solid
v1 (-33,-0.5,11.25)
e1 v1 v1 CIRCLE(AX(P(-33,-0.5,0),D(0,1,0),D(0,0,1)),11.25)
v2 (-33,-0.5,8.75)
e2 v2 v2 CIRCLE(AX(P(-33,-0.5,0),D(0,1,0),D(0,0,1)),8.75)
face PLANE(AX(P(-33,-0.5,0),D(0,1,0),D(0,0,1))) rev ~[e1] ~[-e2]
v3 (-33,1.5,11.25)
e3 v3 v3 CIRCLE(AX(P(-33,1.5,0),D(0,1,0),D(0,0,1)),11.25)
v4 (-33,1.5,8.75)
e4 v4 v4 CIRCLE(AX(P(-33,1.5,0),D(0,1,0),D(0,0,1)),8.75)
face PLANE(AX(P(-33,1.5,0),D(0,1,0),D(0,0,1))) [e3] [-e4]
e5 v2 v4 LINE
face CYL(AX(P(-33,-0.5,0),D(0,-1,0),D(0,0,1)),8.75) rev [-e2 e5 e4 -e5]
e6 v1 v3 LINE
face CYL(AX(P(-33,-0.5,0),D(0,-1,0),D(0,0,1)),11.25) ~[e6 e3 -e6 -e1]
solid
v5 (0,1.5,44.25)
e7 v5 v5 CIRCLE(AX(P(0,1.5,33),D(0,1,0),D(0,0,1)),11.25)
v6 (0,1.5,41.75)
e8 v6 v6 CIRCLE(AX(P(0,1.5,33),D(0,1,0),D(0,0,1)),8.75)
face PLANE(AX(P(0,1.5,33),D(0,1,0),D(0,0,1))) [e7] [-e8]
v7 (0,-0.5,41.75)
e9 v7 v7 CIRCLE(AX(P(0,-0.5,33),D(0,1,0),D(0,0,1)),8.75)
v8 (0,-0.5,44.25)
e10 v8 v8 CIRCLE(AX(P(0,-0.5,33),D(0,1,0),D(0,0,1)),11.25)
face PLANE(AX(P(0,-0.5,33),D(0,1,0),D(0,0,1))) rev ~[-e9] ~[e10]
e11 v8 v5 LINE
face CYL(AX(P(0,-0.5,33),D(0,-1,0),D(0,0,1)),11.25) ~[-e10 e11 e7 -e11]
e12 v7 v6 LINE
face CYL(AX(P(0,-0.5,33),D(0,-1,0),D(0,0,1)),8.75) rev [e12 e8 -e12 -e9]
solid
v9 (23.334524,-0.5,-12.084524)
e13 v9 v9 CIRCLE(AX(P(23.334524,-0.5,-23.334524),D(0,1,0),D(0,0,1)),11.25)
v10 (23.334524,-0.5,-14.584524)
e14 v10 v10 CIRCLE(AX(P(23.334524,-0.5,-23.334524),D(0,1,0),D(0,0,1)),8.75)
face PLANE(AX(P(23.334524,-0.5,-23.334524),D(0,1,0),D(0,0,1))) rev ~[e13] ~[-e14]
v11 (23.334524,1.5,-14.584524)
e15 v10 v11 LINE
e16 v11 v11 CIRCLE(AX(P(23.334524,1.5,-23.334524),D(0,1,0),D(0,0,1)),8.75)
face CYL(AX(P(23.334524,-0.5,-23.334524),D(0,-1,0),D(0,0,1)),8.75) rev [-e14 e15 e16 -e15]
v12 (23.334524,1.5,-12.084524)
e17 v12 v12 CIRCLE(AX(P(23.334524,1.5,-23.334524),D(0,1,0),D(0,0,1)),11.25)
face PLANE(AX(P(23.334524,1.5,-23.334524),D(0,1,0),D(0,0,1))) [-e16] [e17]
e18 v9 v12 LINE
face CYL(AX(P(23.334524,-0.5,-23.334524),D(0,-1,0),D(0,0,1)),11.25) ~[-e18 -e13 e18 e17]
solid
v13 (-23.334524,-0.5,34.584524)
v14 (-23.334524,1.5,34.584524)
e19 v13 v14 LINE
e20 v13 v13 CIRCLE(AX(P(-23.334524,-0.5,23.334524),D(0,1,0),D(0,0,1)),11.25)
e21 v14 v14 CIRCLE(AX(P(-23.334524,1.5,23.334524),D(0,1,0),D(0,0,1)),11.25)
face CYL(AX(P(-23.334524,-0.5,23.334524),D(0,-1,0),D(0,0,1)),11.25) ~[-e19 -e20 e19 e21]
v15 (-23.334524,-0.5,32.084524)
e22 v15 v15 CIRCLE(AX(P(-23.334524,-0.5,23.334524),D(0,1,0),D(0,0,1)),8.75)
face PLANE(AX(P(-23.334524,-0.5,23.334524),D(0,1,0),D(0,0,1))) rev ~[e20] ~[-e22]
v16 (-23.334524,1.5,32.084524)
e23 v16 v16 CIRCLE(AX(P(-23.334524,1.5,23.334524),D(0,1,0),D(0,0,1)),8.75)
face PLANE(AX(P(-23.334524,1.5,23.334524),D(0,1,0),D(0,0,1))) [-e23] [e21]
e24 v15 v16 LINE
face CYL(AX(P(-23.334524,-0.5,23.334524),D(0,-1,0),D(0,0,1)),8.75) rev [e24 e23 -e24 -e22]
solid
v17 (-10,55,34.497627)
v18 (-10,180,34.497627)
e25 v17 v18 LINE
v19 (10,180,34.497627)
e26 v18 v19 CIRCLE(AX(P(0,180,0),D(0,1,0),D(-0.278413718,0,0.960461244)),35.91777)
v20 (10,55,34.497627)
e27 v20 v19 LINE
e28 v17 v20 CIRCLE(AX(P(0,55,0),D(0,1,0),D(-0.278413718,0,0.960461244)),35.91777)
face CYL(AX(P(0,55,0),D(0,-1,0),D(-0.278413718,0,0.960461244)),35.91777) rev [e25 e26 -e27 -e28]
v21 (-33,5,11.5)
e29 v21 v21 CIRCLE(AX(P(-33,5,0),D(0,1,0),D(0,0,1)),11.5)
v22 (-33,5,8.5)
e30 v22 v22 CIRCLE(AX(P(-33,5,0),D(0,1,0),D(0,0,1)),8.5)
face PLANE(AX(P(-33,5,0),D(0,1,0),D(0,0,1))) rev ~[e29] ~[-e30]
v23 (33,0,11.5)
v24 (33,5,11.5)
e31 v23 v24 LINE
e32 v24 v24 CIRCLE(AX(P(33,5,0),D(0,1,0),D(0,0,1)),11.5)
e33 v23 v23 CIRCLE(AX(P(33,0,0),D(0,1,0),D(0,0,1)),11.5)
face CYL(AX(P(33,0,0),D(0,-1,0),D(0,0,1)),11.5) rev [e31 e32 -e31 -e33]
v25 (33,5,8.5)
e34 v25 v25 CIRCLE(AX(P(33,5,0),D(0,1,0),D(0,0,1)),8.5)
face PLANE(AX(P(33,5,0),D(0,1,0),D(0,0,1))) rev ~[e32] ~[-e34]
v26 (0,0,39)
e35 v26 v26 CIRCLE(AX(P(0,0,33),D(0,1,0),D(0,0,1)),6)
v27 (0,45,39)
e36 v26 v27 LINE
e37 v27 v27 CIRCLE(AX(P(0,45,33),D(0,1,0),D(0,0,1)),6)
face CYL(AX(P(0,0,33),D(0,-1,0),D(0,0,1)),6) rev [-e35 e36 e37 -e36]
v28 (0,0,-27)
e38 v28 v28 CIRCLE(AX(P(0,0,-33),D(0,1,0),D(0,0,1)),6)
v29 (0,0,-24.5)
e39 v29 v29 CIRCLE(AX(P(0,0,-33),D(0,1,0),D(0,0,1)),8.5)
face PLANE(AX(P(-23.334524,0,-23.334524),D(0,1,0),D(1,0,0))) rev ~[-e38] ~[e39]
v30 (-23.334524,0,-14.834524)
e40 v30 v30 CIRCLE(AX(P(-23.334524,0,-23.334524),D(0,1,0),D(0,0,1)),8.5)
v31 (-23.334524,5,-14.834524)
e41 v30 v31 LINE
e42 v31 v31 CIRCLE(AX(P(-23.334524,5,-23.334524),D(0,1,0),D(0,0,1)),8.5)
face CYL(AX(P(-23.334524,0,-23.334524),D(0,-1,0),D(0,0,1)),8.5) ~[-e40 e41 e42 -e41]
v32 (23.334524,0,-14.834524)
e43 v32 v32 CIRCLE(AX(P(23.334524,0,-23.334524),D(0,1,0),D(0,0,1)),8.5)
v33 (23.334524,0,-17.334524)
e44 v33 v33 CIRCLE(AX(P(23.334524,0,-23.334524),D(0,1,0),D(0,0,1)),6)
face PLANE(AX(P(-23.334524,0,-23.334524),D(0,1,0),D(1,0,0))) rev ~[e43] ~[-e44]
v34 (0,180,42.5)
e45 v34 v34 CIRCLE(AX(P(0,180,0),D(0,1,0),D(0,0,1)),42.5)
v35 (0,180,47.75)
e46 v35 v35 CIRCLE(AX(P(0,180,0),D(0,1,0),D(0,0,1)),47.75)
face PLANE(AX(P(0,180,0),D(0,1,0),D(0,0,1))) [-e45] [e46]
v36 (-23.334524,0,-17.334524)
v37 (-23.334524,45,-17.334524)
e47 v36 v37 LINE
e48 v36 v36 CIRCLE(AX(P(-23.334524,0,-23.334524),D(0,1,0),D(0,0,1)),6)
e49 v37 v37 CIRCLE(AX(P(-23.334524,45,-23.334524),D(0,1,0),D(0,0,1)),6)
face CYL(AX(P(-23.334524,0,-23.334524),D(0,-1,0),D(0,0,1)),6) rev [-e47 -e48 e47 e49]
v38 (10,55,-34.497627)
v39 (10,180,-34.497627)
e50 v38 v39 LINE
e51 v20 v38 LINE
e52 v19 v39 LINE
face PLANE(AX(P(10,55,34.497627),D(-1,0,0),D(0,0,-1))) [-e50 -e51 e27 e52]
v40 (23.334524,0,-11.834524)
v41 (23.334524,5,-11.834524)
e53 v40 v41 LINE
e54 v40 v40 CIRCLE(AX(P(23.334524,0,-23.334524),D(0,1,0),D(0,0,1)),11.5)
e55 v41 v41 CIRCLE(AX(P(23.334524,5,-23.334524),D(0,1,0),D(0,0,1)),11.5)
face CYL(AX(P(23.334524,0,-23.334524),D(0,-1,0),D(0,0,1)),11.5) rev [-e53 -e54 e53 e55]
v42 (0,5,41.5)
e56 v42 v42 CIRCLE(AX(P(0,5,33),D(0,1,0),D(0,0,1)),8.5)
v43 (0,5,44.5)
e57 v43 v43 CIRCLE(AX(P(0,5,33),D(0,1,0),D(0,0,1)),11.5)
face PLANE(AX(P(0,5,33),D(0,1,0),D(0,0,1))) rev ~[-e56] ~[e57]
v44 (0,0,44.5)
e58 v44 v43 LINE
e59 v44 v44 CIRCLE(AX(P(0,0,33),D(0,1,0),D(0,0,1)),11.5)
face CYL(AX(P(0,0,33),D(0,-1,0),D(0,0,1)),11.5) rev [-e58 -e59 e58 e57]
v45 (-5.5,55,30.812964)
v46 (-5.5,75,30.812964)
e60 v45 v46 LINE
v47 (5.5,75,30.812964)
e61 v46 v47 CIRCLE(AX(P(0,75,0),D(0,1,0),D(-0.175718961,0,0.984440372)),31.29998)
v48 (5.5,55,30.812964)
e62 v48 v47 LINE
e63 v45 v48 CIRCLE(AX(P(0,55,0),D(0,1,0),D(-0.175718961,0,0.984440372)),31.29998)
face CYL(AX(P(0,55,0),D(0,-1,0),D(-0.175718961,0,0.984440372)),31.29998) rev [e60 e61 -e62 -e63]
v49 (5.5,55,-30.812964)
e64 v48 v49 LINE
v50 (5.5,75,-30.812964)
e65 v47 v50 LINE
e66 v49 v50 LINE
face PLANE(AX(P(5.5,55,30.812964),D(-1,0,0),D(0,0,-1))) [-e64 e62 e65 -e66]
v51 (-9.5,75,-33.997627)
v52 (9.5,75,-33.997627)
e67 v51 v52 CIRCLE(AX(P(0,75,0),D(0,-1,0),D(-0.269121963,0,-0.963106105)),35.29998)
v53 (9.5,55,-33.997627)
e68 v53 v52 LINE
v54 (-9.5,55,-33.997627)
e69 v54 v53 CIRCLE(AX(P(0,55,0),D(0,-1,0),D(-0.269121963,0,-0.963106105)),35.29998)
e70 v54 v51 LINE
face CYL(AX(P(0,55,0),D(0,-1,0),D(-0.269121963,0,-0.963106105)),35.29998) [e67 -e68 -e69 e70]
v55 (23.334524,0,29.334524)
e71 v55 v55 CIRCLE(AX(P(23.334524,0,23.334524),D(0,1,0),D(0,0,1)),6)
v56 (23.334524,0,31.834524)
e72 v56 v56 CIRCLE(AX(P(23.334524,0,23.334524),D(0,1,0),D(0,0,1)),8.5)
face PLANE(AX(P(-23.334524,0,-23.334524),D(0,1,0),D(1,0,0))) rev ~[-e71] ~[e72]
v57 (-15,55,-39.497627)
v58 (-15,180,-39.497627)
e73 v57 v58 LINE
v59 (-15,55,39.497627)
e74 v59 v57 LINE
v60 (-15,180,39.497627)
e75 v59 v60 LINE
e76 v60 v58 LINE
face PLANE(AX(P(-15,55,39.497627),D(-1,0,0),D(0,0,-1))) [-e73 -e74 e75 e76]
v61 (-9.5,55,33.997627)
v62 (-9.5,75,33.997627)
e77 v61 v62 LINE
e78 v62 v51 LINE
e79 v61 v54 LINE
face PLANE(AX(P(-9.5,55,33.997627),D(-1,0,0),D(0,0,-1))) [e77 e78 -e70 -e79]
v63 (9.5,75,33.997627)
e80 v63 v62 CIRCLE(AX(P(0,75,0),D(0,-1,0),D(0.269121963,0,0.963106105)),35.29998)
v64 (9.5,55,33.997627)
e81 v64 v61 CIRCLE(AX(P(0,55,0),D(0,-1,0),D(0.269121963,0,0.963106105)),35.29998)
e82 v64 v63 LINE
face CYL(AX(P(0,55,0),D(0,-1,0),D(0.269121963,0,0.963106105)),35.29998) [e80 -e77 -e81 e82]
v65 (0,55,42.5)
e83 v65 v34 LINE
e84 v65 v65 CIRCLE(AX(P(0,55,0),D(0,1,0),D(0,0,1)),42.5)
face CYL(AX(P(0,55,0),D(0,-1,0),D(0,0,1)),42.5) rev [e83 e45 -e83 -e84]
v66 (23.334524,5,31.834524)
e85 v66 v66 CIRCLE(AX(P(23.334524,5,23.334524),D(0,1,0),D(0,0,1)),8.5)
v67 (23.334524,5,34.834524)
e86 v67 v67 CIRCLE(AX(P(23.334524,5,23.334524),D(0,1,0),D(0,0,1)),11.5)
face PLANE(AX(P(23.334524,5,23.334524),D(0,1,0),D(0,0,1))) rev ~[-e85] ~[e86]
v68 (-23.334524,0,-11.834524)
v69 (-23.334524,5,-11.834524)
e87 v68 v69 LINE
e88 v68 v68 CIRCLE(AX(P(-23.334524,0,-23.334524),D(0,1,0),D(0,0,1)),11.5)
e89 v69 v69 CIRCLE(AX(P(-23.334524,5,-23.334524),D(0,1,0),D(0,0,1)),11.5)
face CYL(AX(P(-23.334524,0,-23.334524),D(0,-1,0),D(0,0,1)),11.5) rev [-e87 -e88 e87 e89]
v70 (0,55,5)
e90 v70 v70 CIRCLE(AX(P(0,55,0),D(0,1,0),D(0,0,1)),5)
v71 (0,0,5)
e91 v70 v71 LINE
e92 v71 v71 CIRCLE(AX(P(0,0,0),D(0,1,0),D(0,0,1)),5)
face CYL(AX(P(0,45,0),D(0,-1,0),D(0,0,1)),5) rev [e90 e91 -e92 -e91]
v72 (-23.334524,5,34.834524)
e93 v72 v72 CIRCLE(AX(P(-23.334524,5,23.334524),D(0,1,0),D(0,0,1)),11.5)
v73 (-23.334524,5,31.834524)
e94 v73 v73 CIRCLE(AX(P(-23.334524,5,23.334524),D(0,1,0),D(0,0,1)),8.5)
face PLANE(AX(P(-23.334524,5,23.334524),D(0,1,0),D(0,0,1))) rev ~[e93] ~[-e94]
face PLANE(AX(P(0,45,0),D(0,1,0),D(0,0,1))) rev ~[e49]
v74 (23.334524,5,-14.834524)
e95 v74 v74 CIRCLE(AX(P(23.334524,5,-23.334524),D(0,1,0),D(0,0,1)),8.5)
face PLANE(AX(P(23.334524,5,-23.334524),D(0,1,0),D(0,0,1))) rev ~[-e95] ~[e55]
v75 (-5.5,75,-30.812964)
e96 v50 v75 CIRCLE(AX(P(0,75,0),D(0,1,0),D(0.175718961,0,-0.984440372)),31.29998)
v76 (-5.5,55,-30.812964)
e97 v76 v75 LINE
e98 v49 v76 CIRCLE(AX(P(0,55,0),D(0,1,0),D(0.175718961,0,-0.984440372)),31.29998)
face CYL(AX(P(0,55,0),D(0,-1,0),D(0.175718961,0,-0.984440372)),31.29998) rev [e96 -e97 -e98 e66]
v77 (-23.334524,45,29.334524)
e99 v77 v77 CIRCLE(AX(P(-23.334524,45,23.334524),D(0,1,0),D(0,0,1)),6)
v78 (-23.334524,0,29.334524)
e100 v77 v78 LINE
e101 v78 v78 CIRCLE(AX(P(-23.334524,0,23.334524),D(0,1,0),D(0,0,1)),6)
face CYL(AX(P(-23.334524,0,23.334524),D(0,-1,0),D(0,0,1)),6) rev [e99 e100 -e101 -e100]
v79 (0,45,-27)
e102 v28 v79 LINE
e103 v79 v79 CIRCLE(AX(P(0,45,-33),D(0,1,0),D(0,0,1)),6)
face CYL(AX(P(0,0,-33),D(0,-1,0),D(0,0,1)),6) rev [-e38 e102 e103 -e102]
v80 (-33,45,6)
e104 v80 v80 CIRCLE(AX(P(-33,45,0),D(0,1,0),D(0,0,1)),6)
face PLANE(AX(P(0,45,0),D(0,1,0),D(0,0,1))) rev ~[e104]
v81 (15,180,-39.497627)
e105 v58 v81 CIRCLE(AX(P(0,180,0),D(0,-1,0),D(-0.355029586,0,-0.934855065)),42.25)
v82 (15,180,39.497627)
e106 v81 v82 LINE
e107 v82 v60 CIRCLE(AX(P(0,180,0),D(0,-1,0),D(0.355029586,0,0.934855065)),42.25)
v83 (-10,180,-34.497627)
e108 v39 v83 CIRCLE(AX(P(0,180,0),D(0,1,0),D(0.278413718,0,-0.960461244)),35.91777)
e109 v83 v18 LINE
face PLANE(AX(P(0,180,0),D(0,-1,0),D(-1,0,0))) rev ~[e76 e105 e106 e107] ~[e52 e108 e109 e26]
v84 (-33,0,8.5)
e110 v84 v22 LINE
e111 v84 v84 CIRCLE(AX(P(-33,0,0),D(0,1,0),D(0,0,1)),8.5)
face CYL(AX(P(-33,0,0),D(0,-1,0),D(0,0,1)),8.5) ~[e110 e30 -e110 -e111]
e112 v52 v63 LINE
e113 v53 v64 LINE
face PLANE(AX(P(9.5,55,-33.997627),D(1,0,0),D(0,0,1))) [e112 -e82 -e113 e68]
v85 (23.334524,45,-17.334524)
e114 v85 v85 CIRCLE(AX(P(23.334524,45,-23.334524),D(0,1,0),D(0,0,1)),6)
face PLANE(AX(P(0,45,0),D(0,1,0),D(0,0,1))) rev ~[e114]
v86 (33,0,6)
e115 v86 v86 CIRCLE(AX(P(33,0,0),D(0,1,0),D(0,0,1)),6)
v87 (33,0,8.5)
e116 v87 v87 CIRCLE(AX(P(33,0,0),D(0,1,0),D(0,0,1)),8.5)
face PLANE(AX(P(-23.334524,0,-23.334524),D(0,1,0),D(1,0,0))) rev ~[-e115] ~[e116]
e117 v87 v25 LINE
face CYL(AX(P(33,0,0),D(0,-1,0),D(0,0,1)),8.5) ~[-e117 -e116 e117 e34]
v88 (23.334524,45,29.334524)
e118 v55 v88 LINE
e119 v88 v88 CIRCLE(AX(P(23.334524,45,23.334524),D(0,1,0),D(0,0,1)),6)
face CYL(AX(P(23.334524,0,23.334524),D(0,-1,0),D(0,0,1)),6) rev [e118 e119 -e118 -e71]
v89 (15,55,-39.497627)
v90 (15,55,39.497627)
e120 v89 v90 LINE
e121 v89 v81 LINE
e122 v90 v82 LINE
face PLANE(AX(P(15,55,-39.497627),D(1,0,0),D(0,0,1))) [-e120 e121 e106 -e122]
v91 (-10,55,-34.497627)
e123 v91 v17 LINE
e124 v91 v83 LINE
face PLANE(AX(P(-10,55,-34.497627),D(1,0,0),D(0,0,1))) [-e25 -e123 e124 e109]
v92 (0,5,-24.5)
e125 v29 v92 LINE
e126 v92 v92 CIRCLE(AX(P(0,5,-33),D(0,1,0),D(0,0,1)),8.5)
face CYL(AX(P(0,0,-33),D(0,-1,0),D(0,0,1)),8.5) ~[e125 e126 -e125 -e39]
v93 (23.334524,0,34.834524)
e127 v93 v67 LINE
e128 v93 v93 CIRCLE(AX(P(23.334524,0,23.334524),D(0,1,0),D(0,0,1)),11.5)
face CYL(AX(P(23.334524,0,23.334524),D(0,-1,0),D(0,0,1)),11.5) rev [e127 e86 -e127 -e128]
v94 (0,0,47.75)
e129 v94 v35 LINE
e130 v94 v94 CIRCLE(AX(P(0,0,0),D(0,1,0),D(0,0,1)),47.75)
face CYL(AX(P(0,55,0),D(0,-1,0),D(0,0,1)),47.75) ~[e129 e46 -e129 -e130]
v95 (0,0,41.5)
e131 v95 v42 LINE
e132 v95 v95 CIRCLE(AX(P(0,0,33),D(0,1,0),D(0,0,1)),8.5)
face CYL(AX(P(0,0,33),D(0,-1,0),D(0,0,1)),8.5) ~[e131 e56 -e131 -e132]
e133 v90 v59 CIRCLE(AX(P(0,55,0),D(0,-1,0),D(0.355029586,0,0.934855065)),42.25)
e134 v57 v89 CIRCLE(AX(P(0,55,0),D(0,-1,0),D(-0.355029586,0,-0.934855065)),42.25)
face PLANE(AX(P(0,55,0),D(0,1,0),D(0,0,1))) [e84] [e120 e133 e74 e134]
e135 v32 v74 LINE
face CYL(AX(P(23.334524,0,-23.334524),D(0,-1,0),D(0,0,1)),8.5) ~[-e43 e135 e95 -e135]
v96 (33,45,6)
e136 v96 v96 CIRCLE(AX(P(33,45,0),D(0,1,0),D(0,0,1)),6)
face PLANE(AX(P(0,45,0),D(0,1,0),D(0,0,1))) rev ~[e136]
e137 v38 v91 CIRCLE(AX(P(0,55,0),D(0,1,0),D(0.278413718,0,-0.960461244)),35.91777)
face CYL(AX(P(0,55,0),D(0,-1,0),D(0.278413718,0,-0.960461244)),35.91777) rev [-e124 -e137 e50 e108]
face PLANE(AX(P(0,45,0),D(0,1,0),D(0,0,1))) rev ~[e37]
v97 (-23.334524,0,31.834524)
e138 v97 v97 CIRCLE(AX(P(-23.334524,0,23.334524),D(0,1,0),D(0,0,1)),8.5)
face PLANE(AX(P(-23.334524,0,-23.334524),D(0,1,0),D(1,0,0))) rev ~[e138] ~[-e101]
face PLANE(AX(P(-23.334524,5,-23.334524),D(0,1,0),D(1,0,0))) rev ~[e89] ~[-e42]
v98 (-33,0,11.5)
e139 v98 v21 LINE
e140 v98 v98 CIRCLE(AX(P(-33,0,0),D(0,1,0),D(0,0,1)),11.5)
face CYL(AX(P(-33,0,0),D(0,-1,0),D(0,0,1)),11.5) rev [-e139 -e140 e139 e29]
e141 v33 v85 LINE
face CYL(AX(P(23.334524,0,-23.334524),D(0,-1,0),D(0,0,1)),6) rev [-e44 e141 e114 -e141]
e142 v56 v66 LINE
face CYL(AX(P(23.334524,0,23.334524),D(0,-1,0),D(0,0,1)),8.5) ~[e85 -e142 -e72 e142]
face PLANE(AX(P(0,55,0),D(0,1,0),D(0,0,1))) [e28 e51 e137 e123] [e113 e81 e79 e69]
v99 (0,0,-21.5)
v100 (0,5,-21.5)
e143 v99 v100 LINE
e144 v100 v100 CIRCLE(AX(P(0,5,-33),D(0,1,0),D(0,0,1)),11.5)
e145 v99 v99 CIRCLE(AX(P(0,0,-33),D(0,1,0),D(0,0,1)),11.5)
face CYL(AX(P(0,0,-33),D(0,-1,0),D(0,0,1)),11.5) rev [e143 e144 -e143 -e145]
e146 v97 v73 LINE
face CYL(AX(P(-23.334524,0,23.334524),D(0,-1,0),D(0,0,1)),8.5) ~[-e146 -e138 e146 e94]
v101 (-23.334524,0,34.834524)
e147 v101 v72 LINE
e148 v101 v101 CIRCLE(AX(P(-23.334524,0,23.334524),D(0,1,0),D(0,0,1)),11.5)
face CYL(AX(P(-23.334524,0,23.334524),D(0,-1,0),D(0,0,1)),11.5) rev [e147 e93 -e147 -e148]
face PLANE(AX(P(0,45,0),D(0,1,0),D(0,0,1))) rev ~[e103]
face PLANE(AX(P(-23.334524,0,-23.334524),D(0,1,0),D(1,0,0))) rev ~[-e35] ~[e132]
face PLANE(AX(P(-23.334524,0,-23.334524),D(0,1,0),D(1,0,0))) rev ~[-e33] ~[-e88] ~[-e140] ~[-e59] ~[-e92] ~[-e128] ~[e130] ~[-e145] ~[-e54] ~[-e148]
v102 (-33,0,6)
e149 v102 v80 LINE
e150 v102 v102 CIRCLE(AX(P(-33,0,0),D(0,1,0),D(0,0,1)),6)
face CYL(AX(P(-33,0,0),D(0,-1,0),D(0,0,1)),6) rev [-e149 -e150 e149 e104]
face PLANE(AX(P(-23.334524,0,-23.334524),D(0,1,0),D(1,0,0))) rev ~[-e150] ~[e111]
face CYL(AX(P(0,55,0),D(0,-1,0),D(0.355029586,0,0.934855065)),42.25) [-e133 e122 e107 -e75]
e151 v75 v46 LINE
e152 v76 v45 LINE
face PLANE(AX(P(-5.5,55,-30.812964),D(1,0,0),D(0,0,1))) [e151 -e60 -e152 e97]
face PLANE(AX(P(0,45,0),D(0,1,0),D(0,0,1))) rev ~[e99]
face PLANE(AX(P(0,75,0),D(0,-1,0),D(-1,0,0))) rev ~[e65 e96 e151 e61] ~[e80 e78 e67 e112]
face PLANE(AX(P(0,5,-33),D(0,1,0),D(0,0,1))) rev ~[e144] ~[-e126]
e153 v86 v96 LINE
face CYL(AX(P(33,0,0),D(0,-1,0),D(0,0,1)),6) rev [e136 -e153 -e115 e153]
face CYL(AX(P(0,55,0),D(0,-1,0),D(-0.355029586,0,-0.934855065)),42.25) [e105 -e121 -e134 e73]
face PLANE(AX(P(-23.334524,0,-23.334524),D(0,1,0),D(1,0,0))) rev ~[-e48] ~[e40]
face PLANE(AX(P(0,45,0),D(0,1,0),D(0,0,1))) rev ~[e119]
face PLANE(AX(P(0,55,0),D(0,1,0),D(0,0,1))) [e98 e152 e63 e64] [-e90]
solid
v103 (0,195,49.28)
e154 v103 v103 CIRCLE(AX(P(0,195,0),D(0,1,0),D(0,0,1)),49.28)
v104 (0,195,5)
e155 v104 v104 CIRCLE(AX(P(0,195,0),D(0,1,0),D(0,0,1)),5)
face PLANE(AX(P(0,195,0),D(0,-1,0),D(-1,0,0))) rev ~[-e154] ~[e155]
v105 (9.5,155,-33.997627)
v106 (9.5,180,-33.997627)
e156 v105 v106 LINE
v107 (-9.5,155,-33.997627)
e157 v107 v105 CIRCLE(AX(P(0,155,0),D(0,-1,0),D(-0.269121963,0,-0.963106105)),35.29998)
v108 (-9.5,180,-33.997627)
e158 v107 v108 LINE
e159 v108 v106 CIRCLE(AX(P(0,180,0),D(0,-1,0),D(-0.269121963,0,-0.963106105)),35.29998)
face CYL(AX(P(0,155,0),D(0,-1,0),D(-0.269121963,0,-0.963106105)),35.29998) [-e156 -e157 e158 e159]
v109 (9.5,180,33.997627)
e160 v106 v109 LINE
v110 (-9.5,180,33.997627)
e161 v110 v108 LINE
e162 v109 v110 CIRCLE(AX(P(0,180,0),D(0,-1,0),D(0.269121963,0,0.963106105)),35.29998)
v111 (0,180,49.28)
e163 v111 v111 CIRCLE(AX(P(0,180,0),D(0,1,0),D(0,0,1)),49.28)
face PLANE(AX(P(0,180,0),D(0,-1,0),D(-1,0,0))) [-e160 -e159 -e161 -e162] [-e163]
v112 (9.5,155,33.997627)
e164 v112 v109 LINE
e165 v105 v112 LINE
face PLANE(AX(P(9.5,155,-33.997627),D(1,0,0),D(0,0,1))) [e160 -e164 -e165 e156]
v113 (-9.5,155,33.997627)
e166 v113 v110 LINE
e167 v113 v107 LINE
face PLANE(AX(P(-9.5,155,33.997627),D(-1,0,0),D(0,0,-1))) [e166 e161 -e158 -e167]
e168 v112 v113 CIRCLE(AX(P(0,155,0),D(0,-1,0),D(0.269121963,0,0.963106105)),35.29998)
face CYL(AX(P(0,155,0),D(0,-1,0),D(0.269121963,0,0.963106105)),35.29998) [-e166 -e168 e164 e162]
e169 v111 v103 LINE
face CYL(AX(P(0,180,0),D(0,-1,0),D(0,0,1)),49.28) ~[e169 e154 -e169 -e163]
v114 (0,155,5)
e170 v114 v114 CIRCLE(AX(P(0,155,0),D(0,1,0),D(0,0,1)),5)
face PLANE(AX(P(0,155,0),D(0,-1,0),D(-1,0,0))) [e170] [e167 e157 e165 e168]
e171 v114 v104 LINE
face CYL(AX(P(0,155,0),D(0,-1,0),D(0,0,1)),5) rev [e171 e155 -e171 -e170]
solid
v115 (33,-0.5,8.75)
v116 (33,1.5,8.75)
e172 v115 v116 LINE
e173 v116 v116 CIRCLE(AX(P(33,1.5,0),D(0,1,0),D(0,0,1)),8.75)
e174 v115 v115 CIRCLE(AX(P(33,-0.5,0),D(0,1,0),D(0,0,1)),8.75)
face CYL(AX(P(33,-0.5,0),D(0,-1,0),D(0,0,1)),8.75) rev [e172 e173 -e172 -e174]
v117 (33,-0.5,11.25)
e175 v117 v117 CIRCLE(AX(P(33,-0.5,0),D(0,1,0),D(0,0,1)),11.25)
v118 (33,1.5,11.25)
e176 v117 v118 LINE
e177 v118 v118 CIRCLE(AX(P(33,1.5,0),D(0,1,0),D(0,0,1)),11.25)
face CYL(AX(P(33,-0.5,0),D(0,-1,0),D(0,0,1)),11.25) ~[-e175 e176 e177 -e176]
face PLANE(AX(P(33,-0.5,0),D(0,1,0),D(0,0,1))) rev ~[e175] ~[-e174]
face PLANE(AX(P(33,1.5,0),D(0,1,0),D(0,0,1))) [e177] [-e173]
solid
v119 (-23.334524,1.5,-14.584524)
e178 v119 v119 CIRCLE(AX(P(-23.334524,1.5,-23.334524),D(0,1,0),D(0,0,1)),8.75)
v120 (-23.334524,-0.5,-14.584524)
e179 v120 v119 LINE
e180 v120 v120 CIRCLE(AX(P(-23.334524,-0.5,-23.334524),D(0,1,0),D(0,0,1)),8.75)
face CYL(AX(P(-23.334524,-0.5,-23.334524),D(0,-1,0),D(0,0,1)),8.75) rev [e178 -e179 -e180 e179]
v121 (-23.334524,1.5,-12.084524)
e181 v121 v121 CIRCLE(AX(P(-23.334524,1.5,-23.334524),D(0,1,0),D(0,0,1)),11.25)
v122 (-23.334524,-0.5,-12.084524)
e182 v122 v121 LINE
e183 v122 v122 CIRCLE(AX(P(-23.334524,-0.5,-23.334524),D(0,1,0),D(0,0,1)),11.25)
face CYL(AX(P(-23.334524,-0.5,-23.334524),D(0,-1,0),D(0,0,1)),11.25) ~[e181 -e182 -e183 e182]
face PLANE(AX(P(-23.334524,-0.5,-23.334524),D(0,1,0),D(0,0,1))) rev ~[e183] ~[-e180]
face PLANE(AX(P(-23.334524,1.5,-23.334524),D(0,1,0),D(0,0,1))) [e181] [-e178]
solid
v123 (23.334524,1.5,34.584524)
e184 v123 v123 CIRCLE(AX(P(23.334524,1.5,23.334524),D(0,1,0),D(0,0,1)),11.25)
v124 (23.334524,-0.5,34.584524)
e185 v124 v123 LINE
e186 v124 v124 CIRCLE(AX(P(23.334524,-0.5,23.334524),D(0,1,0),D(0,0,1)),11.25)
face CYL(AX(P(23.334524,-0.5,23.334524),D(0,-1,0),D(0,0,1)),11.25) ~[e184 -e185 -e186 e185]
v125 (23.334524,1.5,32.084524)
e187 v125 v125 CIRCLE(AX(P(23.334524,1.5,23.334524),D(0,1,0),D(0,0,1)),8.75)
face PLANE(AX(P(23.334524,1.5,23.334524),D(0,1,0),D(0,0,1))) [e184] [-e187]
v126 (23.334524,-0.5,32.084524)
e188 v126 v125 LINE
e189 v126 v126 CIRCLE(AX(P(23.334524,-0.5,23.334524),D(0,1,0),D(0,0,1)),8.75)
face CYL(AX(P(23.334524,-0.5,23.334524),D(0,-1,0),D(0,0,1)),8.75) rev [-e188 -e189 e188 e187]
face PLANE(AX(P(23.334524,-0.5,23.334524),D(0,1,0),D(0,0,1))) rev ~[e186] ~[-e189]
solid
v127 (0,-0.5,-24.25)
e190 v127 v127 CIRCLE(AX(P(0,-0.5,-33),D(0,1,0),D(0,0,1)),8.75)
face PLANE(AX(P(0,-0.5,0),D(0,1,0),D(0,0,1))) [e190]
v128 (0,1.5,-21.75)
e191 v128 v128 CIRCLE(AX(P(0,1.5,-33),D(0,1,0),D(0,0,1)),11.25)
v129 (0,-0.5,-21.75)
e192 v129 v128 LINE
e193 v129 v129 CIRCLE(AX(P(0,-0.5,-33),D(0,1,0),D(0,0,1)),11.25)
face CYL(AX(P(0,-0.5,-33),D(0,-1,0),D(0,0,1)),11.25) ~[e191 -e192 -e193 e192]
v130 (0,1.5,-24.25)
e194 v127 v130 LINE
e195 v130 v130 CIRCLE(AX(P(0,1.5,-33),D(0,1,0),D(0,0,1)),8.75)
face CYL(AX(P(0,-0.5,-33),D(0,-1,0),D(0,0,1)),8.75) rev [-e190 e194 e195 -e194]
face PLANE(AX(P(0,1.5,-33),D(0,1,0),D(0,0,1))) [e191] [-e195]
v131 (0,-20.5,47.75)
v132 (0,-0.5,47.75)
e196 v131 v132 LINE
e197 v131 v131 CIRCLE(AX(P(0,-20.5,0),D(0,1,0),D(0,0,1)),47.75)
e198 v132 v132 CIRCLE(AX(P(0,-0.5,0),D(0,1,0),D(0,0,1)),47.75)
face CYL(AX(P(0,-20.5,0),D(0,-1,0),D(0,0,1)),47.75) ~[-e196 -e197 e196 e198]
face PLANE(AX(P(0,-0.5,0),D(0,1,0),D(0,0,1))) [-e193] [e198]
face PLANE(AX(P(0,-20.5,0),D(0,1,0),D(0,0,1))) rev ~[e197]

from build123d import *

# Parameters (mm, degrees)
SKETCH1_R             = 47.75
SKETCH1_R_2           = 5
SKETCH1_R_3           = 6
BOSS_EXTRUDE1_DEPTH   = 45
SKETCH1_3_R           = 11.5
SKETCH1_3_R_2         = 8.5
CUT_EXTRUDE1_DEPTH    = 5
SKETCH3_R             = 47.75
SKETCH3_R_2           = 5
BOSS_EXTRUDE2_DEPTH   = 10
SKETCH6_R             = 47.75
SKETCH6_R_2           = 42.5
BOSS_EXTRUDE6_DEPTH   = 125
BOSS_EXTRUDE7_DEPTH   = 20
SKETCH7_R             = 11.25
SKETCH7_R_2           = 8.75
BOSS_EXTRUDE8_DEPTH   = 2
BOSS_EXTRUDE8_2_DEPTH = 2
BOSS_EXTRUDE8_3_DEPTH = 2
BOSS_EXTRUDE8_4_DEPTH = 2
BOSS_EXTRUDE8_5_DEPTH = 2
BOSS_EXTRUDE8_6_DEPTH = 2
BOSS_EXTRUDE8_7_DEPTH = 2
BOSS_EXTRUDE8_8_DEPTH = 2
BOSS_EXTRUDE9_START   = -20
SKETCH7_4_R           = 47.75
BOSS_EXTRUDE9_DEPTH   = 20
SKETCH8_R             = 49.28
SKETCH8_R_2           = 5
BOSS_EXTRUDE10_DEPTH  = 15
BOSS_EXTRUDE11_START  = -25
SKETCH8_4_R           = 5
BOSS_EXTRUDE11_DEPTH  = 25


with BuildPart() as part:
    # Sketch1 → Boss-Extrude1 (new body)
    with BuildSketch(Plane(origin=(0, 0, 0), x_dir=(1, 0, 0), z_dir=(0, 1, 0))):
        Circle(SKETCH1_R)
        Circle(SKETCH1_R_2, mode=Mode.SUBTRACT)
        with Locations((-33, 0)):
            Circle(SKETCH1_R_3, mode=Mode.SUBTRACT)
        with Locations((-23.334523779, -23.334523779)):
            Circle(SKETCH1_R_3, mode=Mode.SUBTRACT)
        with Locations((0, -33)):
            Circle(SKETCH1_R_3, mode=Mode.SUBTRACT)
        with Locations((23.334523779, -23.334523779)):
            Circle(SKETCH1_R_3, mode=Mode.SUBTRACT)
        with Locations((0, 33)):
            Circle(SKETCH1_R_3, mode=Mode.SUBTRACT)
        with Locations((23.334523779, 23.334523779)):
            Circle(SKETCH1_R_3, mode=Mode.SUBTRACT)
        with Locations((33, 0)):
            Circle(SKETCH1_R_3, mode=Mode.SUBTRACT)
        with Locations((-23.334523779, 23.334523779)):
            Circle(SKETCH1_R_3, mode=Mode.SUBTRACT)
    extrude(amount=BOSS_EXTRUDE1_DEPTH)

    # Sketch1<3> → Cut-Extrude1 (cut)
    # profile 1 of 8: a face of its own
    with BuildSketch(Plane(origin=(0, 0, 0), x_dir=(1, 0, 0), z_dir=(0, 1, 0))):
        with Locations((-23.334523779, 23.334523779)):
            Circle(SKETCH1_3_R)
        with Locations((-23.334523779, 23.334523779)):
            Circle(SKETCH1_3_R_2, mode=Mode.SUBTRACT)
    # profile 2 of 8: a face of its own
    with BuildSketch(Plane(origin=(0, 0, 0), x_dir=(1, 0, 0), z_dir=(0, 1, 0))):
        with Locations((0, 33)):
            Circle(SKETCH1_3_R)
        with Locations((0, 33)):
            Circle(SKETCH1_3_R_2, mode=Mode.SUBTRACT)
    # profile 3 of 8: a face of its own
    with BuildSketch(Plane(origin=(0, 0, 0), x_dir=(1, 0, 0), z_dir=(0, 1, 0))):
        with Locations((23.334523779, 23.334523779)):
            Circle(SKETCH1_3_R)
        with Locations((23.334523779, 23.334523779)):
            Circle(SKETCH1_3_R_2, mode=Mode.SUBTRACT)
    # profile 4 of 8: a face of its own
    with BuildSketch(Plane(origin=(0, 0, 0), x_dir=(1, 0, 0), z_dir=(0, 1, 0))):
        with Locations((33, 0)):
            Circle(SKETCH1_3_R)
        with Locations((33, 0)):
            Circle(SKETCH1_3_R_2, mode=Mode.SUBTRACT)
    # profile 5 of 8: a face of its own
    with BuildSketch(Plane(origin=(0, 0, 0), x_dir=(1, 0, 0), z_dir=(0, 1, 0))):
        with Locations((23.334523779, -23.334523779)):
            Circle(SKETCH1_3_R)
        with Locations((23.334523779, -23.334523779)):
            Circle(SKETCH1_3_R_2, mode=Mode.SUBTRACT)
    # profile 6 of 8: a face of its own
    with BuildSketch(Plane(origin=(0, 0, 0), x_dir=(1, 0, 0), z_dir=(0, 1, 0))):
        with Locations((0, -33)):
            Circle(SKETCH1_3_R)
        with Locations((0, -33)):
            Circle(SKETCH1_3_R_2, mode=Mode.SUBTRACT)
    # profile 7 of 8: a face of its own
    with BuildSketch(Plane(origin=(0, 0, 0), x_dir=(1, 0, 0), z_dir=(0, 1, 0))):
        with Locations((-23.334523779, -23.334523779)):
            Circle(SKETCH1_3_R)
        with Locations((-23.334523779, -23.334523779)):
            Circle(SKETCH1_3_R_2, mode=Mode.SUBTRACT)
    # profile 8 of 8: a face of its own
    with BuildSketch(Plane(origin=(0, 0, 0), x_dir=(1, 0, 0), z_dir=(0, 1, 0))):
        with Locations((-33, 0)):
            Circle(SKETCH1_3_R)
        with Locations((-33, 0)):
            Circle(SKETCH1_3_R_2, mode=Mode.SUBTRACT)
    extrude(amount=CUT_EXTRUDE1_DEPTH, mode=Mode.SUBTRACT)

    # Sketch3 → Boss-Extrude2 (add)
    with BuildSketch(Plane(origin=(0, 45, 0), x_dir=(1, 0, 0), z_dir=(0, 1, 0))):
        Circle(SKETCH3_R)
        Circle(SKETCH3_R_2, mode=Mode.SUBTRACT)
    extrude(amount=BOSS_EXTRUDE2_DEPTH)

    # Sketch6 → Boss-Extrude6 (add)
    # profile 1 of 2: a face of its own
    with BuildSketch(Plane(origin=(0, 55, 0), x_dir=(1, 0, 0), z_dir=(0, 1, 0))):
        Circle(SKETCH6_R)
        Circle(SKETCH6_R_2, mode=Mode.SUBTRACT)
    # profile 2 of 2: a face of its own
    with BuildSketch(Plane(origin=(0, 55, 0), x_dir=(1, 0, 0), z_dir=(0, 1, 0))):
        with BuildLine():
            ThreePointArc((15, 39.497626511), (0, 42.25), (-15, 39.497626511))
            Line((-15, 39.497626511), (-15, -39.497626511))
            ThreePointArc((-15, -39.497626511), (0, -42.25), (15, -39.497626511))
            Line((15, -39.497626511), (15, 39.497626511))
        make_face()
        with BuildLine():
            Line((-10, -34.497626511), (-10, 34.497626511))
            ThreePointArc((-10, 34.497626511), (0, 35.917770461), (10, 34.497626511))
            Line((10, 34.497626511), (10, -34.497626511))
            ThreePointArc((10, -34.497626511), (0, -35.917770461), (-10, -34.497626511))
        make_face(mode=Mode.SUBTRACT)
    extrude(amount=BOSS_EXTRUDE6_DEPTH)

    # Sketch6<4> → Boss-Extrude7 (add)
    with BuildSketch(Plane(origin=(0, 55, 0), x_dir=(1, 0, 0), z_dir=(0, 1, 0))):
        with BuildLine():
            ThreePointArc((9.5, 33.997626511), (0, 35.299980289), (-9.5, 33.997626511))
            Line((-9.5, 33.997626511), (-9.5, -33.997626511))
            ThreePointArc((-9.5, -33.997626511), (0, -35.299980289), (9.5, -33.997626511))
            Line((9.5, -33.997626511), (9.5, 33.997626511))
        make_face()
        with BuildLine():
            Line((-5.5, -30.812964253), (-5.5, 30.812964253))
            ThreePointArc((-5.5, 30.812964253), (0, 31.299980289), (5.5, 30.812964253))
            Line((5.5, 30.812964253), (5.5, -30.812964253))
            ThreePointArc((5.5, -30.812964253), (0, -31.299980289), (-5.5, -30.812964253))
        make_face(mode=Mode.SUBTRACT)
    extrude(amount=BOSS_EXTRUDE7_DEPTH)


with BuildPart() as body_2:
    # Sketch7 → Boss-Extrude8 (new body)
    with BuildSketch(Plane(origin=(0, -0.5, 0), x_dir=(1, 0, 0), z_dir=(0, 1, 0))):
        with Locations((0, 33)):
            Circle(SKETCH7_R)
        with Locations((0, 33)):
            Circle(SKETCH7_R_2, mode=Mode.SUBTRACT)
    extrude(amount=BOSS_EXTRUDE8_DEPTH)

    # Sketch7<4> → Boss-Extrude9 (add)
    with BuildSketch(Plane(origin=(0, -0.5, 0), x_dir=(1, 0, 0), z_dir=(0, 1, 0)).offset(BOSS_EXTRUDE9_START)):
        Circle(SKETCH7_4_R)
    extrude(amount=BOSS_EXTRUDE9_DEPTH)


with BuildPart() as body_3:
    # Sketch7 → Boss-Extrude8 2 (new body)
    with BuildSketch(Plane(origin=(0, -0.5, 0), x_dir=(1, 0, 0), z_dir=(0, 1, 0))):
        with Locations((23.334523779, 23.334523779)):
            Circle(SKETCH7_R)
        with Locations((23.334523779, 23.334523779)):
            Circle(SKETCH7_R_2, mode=Mode.SUBTRACT)
    extrude(amount=BOSS_EXTRUDE8_2_DEPTH)


with BuildPart() as body_4:
    # Sketch7 → Boss-Extrude8 3 (new body)
    with BuildSketch(Plane(origin=(0, -0.5, 0), x_dir=(1, 0, 0), z_dir=(0, 1, 0))):
        with Locations((33, 0)):
            Circle(SKETCH7_R)
        with Locations((33, 0)):
            Circle(SKETCH7_R_2, mode=Mode.SUBTRACT)
    extrude(amount=BOSS_EXTRUDE8_3_DEPTH)


with BuildPart() as body_5:
    # Sketch7 → Boss-Extrude8 4 (new body)
    with BuildSketch(Plane(origin=(0, -0.5, 0), x_dir=(1, 0, 0), z_dir=(0, 1, 0))):
        with Locations((23.334523779, -23.334523779)):
            Circle(SKETCH7_R)
        with Locations((23.334523779, -23.334523779)):
            Circle(SKETCH7_R_2, mode=Mode.SUBTRACT)
    extrude(amount=BOSS_EXTRUDE8_4_DEPTH)


with BuildPart() as body_6:
    # Sketch7 → Boss-Extrude8 5 (new body)
    with BuildSketch(Plane(origin=(0, -0.5, 0), x_dir=(1, 0, 0), z_dir=(0, 1, 0))):
        with Locations((0, -33)):
            Circle(SKETCH7_R)
        with Locations((0, -33)):
            Circle(SKETCH7_R_2, mode=Mode.SUBTRACT)
    extrude(amount=BOSS_EXTRUDE8_5_DEPTH)


with BuildPart() as body_7:
    # Sketch7 → Boss-Extrude8 6 (new body)
    with BuildSketch(Plane(origin=(0, -0.5, 0), x_dir=(1, 0, 0), z_dir=(0, 1, 0))):
        with Locations((-23.334523779, -23.334523779)):
            Circle(SKETCH7_R)
        with Locations((-23.334523779, -23.334523779)):
            Circle(SKETCH7_R_2, mode=Mode.SUBTRACT)
    extrude(amount=BOSS_EXTRUDE8_6_DEPTH)


with BuildPart() as body_8:
    # Sketch7 → Boss-Extrude8 7 (new body)
    with BuildSketch(Plane(origin=(0, -0.5, 0), x_dir=(1, 0, 0), z_dir=(0, 1, 0))):
        with Locations((-33, 0)):
            Circle(SKETCH7_R)
        with Locations((-33, 0)):
            Circle(SKETCH7_R_2, mode=Mode.SUBTRACT)
    extrude(amount=BOSS_EXTRUDE8_7_DEPTH)


with BuildPart() as body_9:
    # Sketch7 → Boss-Extrude8 8 (new body)
    with BuildSketch(Plane(origin=(0, -0.5, 0), x_dir=(1, 0, 0), z_dir=(0, 1, 0))):
        with Locations((-23.334523779, 23.334523779)):
            Circle(SKETCH7_R)
        with Locations((-23.334523779, 23.334523779)):
            Circle(SKETCH7_R_2, mode=Mode.SUBTRACT)
    extrude(amount=BOSS_EXTRUDE8_8_DEPTH)


with BuildPart() as body_10:
    # Sketch8 → Boss-Extrude10 (new body)
    with BuildSketch(Plane(origin=(0, 180, 0), x_dir=(1, 0, 0), z_dir=(0, 1, 0))):
        Circle(SKETCH8_R)
        Circle(SKETCH8_R_2, mode=Mode.SUBTRACT)
    extrude(amount=BOSS_EXTRUDE10_DEPTH)

    # Sketch8<4> → Boss-Extrude11 (add)
    with BuildSketch(Plane(origin=(0, 180, 0), x_dir=(1, 0, 0), z_dir=(0, 1, 0)).offset(BOSS_EXTRUDE11_START)):
        with BuildLine():
            ThreePointArc((9.5, 33.997626511), (0, 35.299980289), (-9.5, 33.997626511))
            Line((-9.5, 33.997626511), (-9.5, -33.997626511))
            ThreePointArc((-9.5, -33.997626511), (0, -35.299980289), (9.5, -33.997626511))
            Line((9.5, -33.997626511), (9.5, 33.997626511))
        make_face()
        Circle(SKETCH8_4_R, mode=Mode.SUBTRACT)
    extrude(amount=BOSS_EXTRUDE11_DEPTH)


solid = Compound([part.part, body_2.part, body_3.part, body_4.part, body_5.part, body_6.part, body_7.part, body_8.part, body_9.part, body_10.part])
